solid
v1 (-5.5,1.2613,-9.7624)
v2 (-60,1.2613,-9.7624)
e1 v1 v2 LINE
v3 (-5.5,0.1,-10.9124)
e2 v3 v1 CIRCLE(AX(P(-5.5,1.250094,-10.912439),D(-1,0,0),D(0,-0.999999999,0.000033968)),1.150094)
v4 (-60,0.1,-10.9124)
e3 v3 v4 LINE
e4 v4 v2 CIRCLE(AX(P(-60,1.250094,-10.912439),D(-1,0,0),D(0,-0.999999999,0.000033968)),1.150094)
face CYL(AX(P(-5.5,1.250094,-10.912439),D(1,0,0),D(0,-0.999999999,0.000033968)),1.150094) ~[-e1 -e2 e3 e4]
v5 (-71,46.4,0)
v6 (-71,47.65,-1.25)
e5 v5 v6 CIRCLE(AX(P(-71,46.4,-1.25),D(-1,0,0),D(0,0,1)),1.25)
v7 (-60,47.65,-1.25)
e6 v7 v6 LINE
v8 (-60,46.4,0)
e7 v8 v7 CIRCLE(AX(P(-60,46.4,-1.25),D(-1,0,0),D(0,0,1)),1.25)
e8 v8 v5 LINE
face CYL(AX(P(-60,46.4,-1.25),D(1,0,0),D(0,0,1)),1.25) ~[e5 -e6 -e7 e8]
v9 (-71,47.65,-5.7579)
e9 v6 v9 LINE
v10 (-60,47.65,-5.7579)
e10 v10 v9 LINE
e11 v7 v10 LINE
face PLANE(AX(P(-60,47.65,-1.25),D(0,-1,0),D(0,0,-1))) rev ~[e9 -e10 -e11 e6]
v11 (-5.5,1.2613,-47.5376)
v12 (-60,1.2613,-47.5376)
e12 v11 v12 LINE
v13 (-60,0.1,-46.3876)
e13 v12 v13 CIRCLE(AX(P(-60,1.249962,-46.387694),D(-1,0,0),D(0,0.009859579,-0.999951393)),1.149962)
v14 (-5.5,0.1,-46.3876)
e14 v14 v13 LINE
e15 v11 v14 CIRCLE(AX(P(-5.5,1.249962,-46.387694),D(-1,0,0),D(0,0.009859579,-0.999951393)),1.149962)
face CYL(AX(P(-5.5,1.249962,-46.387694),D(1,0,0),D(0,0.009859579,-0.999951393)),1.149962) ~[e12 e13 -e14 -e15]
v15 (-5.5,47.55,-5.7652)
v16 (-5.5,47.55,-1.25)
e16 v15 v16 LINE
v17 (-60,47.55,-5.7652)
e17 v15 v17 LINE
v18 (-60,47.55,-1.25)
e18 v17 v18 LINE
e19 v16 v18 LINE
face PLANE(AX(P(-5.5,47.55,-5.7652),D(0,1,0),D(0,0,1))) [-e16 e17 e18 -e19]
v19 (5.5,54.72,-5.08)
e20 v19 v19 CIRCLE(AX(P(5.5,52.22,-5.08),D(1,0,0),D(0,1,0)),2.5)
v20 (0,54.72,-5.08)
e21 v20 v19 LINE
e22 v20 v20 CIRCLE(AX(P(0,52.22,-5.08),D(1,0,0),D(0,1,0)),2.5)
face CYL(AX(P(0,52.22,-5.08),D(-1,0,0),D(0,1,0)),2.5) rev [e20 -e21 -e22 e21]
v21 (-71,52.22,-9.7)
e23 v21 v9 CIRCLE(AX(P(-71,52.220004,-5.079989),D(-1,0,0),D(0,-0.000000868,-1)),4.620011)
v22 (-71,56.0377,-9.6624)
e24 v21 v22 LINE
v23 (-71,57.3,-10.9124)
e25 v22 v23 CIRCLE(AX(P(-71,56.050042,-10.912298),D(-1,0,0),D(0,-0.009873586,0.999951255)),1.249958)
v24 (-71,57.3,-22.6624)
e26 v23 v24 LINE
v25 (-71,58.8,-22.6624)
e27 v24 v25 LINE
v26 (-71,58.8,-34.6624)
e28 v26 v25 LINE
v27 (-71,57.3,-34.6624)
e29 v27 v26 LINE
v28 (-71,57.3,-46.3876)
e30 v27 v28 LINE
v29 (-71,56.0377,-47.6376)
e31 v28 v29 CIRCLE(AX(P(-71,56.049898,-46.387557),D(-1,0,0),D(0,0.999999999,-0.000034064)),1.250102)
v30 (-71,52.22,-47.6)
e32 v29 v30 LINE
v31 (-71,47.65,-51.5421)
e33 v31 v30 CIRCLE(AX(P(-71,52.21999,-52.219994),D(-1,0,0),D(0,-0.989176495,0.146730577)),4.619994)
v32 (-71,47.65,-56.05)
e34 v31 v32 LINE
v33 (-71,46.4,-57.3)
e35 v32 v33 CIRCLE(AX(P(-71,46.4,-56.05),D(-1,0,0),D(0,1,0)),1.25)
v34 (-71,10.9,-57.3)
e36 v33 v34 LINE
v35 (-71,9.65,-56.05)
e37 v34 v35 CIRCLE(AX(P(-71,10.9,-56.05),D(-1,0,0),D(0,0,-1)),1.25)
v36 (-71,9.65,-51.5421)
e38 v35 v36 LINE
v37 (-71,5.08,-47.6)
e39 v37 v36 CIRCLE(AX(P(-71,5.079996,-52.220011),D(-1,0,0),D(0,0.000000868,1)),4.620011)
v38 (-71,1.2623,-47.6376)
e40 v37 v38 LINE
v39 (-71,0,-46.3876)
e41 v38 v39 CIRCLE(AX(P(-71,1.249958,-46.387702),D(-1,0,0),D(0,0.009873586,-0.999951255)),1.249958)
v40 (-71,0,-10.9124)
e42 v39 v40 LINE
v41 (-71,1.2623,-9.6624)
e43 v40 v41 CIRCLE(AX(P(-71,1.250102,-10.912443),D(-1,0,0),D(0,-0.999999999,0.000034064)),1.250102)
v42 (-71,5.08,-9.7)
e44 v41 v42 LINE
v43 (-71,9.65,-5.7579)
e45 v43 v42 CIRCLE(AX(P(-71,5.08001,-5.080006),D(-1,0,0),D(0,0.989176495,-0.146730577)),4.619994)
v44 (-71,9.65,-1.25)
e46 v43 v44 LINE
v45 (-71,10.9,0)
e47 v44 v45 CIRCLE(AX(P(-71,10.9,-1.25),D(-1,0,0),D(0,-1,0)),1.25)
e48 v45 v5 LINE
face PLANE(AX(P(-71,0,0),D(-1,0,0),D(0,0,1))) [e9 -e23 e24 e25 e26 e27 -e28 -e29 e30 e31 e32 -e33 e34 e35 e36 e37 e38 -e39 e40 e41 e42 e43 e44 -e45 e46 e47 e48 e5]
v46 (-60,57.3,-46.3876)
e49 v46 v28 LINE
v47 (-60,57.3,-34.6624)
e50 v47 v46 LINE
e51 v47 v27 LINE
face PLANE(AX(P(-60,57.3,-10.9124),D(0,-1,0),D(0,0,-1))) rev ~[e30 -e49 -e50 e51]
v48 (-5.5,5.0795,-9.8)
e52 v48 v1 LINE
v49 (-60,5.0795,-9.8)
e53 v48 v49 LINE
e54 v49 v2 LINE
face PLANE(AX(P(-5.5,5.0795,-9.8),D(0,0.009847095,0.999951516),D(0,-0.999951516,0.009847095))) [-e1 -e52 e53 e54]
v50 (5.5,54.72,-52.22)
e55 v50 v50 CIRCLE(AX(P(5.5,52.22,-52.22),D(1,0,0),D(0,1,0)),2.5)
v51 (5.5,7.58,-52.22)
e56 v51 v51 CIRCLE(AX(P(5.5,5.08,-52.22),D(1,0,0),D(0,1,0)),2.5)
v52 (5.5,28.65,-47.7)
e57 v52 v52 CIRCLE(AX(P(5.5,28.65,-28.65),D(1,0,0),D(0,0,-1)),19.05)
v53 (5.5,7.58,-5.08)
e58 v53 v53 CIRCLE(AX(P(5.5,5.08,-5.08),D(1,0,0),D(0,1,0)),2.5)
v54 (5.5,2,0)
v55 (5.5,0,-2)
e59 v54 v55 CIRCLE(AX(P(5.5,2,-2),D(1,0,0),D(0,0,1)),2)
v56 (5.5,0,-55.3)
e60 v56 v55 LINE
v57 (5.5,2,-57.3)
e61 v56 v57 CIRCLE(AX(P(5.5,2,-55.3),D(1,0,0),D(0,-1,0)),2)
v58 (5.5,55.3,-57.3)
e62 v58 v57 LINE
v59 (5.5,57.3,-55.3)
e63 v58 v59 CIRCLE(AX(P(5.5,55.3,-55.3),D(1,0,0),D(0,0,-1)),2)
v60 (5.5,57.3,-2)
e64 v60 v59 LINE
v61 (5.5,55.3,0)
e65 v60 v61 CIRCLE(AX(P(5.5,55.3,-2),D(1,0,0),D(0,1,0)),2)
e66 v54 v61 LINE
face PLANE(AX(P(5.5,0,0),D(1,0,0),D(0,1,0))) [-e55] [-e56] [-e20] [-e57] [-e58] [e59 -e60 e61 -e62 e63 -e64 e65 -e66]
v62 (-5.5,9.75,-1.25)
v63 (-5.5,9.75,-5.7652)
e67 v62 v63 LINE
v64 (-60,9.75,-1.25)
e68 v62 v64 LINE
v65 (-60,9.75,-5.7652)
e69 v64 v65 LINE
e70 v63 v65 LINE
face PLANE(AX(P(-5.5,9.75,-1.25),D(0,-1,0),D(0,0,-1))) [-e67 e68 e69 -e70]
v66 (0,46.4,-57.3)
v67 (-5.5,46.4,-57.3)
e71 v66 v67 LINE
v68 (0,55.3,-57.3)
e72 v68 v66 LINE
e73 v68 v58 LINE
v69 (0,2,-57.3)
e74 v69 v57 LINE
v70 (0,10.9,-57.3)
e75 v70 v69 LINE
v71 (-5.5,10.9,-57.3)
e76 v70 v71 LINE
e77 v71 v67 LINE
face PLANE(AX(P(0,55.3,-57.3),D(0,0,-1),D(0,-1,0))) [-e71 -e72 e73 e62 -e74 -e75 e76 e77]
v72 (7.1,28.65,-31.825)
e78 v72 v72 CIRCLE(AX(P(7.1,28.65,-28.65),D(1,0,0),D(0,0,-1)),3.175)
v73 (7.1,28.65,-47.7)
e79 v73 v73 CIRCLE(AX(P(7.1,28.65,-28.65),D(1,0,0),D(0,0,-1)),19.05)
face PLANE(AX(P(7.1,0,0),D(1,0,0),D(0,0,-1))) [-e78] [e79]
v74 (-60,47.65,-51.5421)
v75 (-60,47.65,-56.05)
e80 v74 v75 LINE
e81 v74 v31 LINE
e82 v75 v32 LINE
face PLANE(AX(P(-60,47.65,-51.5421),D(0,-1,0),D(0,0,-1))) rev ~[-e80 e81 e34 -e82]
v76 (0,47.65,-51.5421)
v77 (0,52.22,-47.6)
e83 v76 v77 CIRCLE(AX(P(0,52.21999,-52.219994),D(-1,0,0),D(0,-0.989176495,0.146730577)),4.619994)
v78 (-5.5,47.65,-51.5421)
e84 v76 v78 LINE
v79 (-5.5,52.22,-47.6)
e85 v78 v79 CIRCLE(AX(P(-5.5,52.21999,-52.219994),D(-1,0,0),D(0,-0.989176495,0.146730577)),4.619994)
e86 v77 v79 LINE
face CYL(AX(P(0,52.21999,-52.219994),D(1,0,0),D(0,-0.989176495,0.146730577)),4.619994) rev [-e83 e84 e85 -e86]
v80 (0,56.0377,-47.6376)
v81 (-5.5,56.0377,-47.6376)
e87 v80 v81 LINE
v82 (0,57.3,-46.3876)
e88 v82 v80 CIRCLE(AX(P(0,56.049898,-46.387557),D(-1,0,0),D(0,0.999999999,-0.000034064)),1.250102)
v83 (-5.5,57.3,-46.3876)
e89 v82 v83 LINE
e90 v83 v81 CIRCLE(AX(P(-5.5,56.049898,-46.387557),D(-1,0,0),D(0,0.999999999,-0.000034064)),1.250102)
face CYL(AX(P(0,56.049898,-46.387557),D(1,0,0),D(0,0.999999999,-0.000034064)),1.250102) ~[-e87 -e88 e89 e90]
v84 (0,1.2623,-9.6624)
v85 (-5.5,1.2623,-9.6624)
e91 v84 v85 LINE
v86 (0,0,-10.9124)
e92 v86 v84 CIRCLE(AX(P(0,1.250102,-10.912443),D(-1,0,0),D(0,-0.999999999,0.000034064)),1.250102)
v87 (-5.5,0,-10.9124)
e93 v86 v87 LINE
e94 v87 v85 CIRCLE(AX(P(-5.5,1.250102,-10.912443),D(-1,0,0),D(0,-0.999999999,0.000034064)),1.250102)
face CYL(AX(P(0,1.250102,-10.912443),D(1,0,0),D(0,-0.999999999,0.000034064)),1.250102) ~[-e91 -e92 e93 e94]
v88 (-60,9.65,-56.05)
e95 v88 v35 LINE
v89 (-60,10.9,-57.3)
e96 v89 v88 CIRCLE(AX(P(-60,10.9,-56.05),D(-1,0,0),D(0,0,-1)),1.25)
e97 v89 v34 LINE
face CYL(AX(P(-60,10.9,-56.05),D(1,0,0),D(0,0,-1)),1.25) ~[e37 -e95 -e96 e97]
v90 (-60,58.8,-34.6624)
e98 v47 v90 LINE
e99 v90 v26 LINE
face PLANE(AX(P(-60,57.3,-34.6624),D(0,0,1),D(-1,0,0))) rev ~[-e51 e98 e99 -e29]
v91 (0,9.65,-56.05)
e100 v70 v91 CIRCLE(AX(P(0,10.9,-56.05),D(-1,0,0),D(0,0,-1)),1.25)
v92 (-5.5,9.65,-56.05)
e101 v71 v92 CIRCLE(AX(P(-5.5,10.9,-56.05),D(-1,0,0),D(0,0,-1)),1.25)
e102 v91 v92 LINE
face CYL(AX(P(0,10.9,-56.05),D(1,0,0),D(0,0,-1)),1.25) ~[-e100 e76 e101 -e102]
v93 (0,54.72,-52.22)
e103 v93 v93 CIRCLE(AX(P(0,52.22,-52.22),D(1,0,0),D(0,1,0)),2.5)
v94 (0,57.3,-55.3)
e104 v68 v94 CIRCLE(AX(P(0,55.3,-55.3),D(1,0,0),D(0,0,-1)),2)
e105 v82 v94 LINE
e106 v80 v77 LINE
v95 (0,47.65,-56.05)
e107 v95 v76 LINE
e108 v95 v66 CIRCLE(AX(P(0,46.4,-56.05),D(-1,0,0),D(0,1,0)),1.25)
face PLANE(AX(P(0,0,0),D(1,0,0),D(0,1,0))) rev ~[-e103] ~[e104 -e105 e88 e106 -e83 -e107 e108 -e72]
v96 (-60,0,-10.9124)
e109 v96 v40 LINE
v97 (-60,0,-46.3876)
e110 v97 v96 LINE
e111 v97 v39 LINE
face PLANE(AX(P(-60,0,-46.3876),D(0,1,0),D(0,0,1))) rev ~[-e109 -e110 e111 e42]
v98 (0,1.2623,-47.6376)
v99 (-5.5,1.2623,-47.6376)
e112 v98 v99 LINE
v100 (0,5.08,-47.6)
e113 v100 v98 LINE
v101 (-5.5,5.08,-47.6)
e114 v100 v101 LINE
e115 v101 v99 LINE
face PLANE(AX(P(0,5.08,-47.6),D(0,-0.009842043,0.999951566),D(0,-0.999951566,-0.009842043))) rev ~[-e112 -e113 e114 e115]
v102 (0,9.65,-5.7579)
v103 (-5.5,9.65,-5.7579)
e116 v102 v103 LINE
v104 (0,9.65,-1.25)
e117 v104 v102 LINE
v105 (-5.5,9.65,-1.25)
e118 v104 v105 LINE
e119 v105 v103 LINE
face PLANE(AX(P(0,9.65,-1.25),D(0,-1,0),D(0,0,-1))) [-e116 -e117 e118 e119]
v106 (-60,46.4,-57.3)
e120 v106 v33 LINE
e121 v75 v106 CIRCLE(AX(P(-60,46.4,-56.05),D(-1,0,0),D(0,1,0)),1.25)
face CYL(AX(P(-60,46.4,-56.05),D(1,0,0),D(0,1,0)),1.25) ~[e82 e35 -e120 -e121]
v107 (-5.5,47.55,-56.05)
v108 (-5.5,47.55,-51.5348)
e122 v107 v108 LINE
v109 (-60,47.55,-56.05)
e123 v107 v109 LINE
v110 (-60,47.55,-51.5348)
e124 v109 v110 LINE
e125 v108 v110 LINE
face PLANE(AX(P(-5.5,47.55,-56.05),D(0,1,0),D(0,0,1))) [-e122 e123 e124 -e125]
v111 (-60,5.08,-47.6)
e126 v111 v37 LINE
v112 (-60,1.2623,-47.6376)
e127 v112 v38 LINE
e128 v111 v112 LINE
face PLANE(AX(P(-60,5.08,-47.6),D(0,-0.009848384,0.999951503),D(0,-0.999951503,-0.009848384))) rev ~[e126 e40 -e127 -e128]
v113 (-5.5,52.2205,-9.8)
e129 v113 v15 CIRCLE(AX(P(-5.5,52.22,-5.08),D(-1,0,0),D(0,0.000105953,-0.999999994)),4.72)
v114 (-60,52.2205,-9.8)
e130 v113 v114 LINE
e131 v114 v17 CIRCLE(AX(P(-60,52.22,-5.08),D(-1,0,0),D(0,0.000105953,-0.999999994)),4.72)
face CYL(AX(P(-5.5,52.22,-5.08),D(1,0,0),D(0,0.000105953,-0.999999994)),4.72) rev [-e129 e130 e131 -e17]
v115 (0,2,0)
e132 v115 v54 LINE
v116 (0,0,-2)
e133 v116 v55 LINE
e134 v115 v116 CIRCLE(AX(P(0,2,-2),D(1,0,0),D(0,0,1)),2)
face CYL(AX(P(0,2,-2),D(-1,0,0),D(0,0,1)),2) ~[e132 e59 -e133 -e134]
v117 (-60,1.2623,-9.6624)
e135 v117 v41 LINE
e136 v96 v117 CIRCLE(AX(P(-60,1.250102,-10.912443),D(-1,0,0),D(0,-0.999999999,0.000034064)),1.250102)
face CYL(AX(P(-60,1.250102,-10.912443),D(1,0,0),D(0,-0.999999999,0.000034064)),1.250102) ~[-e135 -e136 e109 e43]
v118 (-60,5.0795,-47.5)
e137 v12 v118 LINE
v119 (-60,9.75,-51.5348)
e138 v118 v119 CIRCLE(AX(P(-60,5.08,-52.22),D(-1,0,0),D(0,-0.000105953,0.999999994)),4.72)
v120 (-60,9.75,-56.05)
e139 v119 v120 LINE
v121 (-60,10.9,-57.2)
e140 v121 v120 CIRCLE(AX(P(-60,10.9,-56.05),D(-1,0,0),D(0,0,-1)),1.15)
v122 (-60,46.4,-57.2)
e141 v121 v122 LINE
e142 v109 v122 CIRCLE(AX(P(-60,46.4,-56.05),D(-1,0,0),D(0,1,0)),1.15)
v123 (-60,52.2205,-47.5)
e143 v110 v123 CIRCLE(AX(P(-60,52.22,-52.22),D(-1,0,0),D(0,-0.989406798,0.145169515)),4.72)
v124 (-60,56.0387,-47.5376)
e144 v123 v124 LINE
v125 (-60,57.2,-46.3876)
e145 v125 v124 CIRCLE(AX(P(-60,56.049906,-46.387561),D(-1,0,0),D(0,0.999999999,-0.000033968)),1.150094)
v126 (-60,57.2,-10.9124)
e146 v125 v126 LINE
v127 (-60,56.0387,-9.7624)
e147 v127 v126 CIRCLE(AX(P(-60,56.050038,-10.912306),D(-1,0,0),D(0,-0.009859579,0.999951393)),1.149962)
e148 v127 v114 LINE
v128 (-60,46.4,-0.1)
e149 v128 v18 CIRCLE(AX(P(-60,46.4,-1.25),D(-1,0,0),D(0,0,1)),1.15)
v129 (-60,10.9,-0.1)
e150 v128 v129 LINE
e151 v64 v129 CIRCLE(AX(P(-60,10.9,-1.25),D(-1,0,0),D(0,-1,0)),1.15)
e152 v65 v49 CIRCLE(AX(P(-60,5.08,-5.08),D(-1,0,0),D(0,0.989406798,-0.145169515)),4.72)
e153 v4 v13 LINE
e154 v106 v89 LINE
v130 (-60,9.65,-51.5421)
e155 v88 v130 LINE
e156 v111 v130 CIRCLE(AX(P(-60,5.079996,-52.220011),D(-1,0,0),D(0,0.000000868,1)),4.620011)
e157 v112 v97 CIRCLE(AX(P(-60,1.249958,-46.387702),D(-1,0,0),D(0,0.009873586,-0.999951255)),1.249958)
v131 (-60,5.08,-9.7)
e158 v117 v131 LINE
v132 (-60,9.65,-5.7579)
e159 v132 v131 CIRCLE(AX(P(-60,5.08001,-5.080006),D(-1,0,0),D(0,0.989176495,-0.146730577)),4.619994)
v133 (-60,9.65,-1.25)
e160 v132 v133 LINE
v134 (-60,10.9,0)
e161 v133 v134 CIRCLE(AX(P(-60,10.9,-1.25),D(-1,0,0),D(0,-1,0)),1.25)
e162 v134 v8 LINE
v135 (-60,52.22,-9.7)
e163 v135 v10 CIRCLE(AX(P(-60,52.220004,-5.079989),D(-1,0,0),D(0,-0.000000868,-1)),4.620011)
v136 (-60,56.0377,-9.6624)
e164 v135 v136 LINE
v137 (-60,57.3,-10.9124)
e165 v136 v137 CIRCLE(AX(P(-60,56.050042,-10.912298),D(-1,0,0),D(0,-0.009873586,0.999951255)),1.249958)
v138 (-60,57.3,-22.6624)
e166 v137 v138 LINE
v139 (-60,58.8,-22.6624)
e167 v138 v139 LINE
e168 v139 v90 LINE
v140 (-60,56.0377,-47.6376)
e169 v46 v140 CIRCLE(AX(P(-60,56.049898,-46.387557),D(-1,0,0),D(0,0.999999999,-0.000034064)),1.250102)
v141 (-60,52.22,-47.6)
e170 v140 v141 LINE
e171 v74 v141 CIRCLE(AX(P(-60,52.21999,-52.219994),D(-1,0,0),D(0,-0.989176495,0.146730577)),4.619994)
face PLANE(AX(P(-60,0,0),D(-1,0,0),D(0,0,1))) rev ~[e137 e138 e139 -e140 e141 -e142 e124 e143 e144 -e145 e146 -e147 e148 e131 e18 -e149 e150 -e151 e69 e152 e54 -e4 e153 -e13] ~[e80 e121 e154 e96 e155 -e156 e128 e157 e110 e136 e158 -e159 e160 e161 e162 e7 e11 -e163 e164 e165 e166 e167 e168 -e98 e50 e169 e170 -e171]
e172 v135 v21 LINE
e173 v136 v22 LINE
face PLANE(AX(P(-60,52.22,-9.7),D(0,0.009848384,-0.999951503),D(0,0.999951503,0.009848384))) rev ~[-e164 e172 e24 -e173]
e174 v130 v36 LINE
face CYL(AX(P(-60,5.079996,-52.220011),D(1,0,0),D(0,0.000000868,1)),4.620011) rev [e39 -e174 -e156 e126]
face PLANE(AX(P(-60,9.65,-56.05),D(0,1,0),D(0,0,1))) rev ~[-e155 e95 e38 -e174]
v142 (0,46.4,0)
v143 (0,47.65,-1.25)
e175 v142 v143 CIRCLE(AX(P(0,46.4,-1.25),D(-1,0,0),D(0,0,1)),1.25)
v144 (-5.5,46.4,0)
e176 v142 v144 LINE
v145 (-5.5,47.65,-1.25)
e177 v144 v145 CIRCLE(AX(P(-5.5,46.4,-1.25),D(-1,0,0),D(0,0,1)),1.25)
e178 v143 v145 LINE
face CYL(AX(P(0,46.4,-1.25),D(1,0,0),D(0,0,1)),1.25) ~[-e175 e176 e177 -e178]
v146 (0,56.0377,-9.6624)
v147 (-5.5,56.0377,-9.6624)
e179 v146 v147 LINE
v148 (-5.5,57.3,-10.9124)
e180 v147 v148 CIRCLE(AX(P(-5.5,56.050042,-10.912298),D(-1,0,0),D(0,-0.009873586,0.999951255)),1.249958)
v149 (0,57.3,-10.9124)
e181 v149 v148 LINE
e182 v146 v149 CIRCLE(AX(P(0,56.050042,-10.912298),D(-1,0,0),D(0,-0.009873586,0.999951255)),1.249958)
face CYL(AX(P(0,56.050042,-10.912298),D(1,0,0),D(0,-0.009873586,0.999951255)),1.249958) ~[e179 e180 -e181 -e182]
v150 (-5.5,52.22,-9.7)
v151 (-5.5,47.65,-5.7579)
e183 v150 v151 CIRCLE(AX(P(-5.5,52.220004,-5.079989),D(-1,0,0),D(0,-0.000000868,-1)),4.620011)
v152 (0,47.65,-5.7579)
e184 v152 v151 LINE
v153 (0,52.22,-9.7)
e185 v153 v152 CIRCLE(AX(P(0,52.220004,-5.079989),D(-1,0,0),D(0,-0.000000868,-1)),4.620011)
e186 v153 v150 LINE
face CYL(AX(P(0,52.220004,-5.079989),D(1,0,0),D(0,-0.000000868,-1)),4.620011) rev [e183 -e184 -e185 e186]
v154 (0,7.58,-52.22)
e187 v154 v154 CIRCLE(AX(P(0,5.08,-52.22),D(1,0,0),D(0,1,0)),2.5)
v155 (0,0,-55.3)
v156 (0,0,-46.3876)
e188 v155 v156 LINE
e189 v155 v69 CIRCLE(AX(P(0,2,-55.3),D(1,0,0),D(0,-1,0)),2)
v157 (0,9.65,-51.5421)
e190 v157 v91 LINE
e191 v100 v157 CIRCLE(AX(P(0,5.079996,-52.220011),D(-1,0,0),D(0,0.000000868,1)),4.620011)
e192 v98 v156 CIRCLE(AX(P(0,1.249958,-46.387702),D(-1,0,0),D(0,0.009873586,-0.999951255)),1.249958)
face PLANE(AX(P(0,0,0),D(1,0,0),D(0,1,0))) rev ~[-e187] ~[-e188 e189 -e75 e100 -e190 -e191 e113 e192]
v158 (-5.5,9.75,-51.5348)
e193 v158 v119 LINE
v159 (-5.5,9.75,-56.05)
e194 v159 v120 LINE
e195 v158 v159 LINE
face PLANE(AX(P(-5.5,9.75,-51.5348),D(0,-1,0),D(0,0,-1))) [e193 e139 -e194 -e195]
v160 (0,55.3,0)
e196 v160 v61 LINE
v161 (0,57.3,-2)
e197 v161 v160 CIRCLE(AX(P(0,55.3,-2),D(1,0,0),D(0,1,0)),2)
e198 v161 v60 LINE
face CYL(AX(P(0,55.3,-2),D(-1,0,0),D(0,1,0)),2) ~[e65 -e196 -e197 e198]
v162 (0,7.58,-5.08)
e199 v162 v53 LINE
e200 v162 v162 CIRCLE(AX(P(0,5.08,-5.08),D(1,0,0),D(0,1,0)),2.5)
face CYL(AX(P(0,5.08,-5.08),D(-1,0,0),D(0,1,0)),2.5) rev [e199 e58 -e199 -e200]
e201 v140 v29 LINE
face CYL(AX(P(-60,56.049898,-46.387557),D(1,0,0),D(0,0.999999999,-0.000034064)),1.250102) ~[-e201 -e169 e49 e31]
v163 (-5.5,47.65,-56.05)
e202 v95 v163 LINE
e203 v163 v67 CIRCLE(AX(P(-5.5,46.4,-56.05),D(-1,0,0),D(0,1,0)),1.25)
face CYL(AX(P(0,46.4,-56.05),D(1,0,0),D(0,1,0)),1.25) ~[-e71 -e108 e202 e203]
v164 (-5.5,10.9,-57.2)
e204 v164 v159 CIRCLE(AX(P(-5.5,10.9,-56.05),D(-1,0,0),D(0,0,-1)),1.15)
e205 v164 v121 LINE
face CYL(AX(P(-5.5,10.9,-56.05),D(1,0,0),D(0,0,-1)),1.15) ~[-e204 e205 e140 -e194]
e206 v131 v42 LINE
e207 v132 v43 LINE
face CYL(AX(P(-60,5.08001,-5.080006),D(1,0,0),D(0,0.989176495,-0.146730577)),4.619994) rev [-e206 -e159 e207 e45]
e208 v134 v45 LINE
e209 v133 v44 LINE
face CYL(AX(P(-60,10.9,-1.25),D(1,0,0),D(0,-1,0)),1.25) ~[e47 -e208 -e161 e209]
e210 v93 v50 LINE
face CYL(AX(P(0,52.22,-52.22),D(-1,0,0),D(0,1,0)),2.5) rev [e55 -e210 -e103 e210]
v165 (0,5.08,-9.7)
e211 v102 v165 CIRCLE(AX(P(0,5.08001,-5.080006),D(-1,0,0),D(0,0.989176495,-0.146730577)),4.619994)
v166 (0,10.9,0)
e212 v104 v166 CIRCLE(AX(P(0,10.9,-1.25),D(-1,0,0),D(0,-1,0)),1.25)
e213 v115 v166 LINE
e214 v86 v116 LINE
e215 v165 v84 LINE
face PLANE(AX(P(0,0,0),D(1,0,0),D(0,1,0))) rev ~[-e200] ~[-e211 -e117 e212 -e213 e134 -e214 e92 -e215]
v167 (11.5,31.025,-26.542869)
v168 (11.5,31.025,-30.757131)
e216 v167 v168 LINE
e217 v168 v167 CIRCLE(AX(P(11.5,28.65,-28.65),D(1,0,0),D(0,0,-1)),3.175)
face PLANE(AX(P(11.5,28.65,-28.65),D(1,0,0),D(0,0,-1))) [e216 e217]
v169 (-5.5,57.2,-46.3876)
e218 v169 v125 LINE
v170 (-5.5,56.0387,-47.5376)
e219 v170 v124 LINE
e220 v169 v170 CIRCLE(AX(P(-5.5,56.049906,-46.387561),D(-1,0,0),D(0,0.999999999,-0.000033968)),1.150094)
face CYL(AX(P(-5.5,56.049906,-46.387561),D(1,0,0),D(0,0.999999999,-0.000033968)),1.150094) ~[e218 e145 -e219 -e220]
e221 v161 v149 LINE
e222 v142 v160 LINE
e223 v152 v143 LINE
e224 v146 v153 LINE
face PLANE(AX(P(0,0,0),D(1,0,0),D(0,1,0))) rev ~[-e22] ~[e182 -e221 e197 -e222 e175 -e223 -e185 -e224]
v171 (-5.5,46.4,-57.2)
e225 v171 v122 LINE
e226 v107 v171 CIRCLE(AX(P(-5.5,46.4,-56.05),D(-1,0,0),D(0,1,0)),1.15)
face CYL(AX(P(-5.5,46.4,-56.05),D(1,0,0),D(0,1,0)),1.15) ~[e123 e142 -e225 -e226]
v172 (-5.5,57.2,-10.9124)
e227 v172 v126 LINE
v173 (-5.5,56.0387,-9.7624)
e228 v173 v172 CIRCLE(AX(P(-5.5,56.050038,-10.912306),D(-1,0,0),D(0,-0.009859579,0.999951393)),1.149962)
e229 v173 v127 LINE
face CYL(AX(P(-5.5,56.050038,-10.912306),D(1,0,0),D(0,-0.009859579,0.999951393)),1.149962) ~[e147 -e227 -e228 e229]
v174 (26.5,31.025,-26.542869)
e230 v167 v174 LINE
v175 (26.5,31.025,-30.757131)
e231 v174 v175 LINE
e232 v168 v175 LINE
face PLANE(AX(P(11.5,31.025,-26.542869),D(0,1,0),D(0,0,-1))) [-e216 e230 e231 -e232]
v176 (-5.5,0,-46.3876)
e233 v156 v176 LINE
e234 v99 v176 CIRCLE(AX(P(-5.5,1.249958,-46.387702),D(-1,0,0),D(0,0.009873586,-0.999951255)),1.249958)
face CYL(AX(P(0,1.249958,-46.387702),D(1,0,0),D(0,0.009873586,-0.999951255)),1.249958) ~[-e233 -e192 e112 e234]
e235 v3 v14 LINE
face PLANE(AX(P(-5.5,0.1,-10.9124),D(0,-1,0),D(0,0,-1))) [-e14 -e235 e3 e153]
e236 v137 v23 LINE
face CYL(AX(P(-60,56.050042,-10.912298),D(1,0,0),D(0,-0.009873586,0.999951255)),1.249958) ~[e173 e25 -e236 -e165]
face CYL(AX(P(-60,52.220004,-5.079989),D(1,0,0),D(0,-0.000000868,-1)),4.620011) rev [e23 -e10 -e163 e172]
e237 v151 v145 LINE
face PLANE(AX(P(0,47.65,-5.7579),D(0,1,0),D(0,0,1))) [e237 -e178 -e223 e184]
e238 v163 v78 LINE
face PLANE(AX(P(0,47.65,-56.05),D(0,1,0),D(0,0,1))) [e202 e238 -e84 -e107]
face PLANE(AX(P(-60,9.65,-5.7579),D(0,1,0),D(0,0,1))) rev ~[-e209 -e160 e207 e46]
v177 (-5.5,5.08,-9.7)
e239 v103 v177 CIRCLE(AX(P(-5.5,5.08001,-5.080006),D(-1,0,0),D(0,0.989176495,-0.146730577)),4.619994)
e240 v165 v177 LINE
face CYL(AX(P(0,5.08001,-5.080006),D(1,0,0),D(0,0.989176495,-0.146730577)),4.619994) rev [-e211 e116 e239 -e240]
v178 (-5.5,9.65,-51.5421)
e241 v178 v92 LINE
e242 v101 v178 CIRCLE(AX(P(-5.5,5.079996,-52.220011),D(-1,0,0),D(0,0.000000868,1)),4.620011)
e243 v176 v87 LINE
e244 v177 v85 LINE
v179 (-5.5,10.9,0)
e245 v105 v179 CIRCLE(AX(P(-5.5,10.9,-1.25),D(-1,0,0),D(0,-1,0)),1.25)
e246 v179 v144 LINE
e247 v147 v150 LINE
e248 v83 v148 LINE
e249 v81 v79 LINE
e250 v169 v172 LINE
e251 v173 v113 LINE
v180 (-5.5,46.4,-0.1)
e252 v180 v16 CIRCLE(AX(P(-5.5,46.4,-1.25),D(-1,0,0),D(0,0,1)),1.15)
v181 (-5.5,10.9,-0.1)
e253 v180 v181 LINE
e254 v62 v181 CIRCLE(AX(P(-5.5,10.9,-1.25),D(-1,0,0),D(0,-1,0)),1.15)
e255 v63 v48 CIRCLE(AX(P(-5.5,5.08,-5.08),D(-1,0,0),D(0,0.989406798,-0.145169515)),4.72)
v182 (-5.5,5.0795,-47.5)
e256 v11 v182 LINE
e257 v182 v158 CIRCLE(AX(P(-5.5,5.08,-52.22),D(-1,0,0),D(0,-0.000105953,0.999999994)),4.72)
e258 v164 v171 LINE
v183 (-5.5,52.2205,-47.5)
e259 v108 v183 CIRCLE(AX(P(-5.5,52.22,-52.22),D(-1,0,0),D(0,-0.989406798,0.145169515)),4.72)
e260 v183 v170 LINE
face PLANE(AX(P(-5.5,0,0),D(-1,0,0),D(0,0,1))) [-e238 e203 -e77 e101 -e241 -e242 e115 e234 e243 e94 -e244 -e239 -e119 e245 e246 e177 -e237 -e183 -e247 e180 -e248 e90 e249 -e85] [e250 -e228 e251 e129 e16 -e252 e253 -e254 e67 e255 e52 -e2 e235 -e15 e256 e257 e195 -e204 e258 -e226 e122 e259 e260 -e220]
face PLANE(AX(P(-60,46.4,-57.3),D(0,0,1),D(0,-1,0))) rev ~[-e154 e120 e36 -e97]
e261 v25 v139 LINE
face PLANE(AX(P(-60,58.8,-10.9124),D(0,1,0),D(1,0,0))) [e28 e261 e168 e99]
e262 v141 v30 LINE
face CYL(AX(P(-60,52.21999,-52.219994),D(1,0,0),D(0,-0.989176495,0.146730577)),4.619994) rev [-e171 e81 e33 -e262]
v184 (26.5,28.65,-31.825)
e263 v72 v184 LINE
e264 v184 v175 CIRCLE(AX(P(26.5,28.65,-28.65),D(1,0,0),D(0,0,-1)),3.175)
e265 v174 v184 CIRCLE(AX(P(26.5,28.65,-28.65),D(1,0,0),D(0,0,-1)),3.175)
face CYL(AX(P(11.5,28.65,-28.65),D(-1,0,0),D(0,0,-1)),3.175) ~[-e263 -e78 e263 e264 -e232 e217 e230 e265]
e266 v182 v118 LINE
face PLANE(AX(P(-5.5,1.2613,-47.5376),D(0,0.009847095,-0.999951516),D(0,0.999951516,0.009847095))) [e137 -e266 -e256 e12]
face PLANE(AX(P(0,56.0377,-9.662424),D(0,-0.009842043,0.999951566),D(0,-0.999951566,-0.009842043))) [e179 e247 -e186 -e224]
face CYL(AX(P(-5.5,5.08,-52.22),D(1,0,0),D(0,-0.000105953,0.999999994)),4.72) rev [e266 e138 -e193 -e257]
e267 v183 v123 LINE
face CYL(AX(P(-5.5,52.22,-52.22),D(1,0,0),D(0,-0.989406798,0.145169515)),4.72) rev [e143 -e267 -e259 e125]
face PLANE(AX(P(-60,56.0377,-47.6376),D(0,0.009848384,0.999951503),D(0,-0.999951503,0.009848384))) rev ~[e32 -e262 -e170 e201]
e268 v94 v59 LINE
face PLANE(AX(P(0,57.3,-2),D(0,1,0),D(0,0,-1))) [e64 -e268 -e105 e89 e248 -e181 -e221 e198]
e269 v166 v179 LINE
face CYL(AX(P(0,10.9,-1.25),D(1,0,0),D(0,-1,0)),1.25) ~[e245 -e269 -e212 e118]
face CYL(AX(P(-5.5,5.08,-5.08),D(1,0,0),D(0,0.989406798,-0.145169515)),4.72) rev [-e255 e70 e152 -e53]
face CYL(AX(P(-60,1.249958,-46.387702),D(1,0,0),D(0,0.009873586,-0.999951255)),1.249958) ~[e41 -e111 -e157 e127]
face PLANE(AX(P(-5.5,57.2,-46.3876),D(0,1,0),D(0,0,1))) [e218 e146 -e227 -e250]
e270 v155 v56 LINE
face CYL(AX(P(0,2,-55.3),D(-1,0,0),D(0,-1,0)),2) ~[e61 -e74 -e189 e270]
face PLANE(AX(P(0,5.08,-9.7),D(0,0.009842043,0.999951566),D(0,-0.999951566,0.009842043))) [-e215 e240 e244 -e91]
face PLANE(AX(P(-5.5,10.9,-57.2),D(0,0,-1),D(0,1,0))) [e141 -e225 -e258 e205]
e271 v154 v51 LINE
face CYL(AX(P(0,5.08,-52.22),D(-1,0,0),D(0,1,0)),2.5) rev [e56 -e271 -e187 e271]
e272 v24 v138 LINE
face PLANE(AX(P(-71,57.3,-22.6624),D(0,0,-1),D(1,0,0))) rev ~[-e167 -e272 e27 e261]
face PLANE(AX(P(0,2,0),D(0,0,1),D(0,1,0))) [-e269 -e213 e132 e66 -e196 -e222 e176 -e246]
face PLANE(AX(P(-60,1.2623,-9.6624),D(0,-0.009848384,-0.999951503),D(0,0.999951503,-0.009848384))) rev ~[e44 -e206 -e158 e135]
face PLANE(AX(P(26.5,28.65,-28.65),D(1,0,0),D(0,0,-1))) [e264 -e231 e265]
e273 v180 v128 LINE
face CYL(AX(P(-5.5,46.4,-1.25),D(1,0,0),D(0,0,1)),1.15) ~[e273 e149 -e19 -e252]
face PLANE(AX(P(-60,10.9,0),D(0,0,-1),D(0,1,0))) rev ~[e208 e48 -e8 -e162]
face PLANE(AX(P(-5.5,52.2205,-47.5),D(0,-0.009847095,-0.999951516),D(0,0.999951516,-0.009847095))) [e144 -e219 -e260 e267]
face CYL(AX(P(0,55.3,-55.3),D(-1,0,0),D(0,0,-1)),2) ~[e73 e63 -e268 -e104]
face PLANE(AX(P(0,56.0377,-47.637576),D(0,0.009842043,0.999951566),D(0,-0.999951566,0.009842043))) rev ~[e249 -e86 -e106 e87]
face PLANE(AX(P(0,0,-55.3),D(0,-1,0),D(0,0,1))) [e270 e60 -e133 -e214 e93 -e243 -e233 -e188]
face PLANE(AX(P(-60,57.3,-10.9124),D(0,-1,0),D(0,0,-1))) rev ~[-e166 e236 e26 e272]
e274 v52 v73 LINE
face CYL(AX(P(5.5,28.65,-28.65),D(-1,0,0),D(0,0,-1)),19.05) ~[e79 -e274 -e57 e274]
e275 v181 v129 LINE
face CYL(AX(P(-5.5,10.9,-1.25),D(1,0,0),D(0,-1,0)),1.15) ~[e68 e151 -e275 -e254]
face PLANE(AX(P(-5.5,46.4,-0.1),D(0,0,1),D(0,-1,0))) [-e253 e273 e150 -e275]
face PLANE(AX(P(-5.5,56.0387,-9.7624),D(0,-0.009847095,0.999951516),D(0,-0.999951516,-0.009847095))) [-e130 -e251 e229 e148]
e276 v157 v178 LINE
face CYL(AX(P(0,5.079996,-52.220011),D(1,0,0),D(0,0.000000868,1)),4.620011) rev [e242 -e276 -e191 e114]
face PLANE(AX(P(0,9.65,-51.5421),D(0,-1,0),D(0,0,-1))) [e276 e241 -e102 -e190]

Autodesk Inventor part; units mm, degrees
ref_plane "YZ Plane" through (0, 0, 0) normal (1, 0, 0) x (0, 1, 0)
ref_plane "XZ Plane" through (0, 0, 0) normal (0, 1, 0) x (-1, 0, 0)
ref_plane "XY Plane" through (0, 0, 0) normal (0, 0, 1) x (1, 0, 0)
sketch "Sketch1" plane through (0, 0, 0) normal (1, 0, 0) x (0, 1, 0)
  line L0 (2, 0) -> (55.3, 0)
  line L1 (57.3, -2) -> (57.3, -55.3)
  line L2 (55.3, -57.3) -> (2, -57.3)
  line L3 (0, -55.3) -> (0, -2)
  arc A0 (57.3, -2) -> (55.3, 0) centre (55.3, -2) ccw
  arc A1 (55.3, -57.3) -> (57.3, -55.3) centre (55.3, -55.3) ccw
  arc A2 (0, -55.3) -> (2, -57.3) centre (2, -55.3) ccw
  arc A3 (2, 0) -> (0, -2) centre (2, -2) ccw
  line L4 (52.22, -5.08) -> (5.08, -5.08) construction
  line L5 (5.08, -5.08) -> (5.08, -52.22) construction
  line L6 (5.08, -52.22) -> (52.22, -52.22) construction
  line L7 (52.22, -52.22) -> (52.22, -5.08) construction
  line L8 (52.22, -5.08) -> (57.3, -5.08) construction
  line L9 (52.22, -5.08) -> (52.22, 0) construction
  line L10 (5.08, -52.22) -> (0, -52.22) construction
  line L11 (5.08, -52.22) -> (5.08, -57.3) construction
  circle A4 centre (52.22, -5.08) radius 2.5
  circle A5 centre (52.22, -52.22) radius 2.5
  circle A6 centre (5.08, -52.22) radius 2.5
  circle A7 centre (5.08, -5.08) radius 2.5
  point P0 (0, 0)
  point P1 (57.3, -57.3)
  point P2 (57.3, 0)
  point P3 (0, -57.3)
  dimension "d0" = 57.3
  dimension "d1" = 57.3
  dimension "d2" = 2
  dimension "d3" = 2
  dimension "d4" = 5
  dimension "d5" = 5
  dimension "d6" = 5
  dimension "d7" = 5
  dimension "d8" = 47.14
  dimension "d9" = 47.14
extrude "Extrusion1" add sketch "Sketch1" along normal blind 5.5
sketch "Sketch2" plane through (0, 0, 0) normal (-1, 0, 0) x (0, 0, 1)
  line L0 (-57.3, 2) -> (-57.3, 55.3) construction
  arc A0 (-57.3, 2) -> (-55.3, 0) centre (-55.3, 2) ccw projected
  line L1 (-2, 0) -> (-55.3, 0) construction
  arc A1 (-2, 0) -> (0, 2) centre (-2, 2) ccw projected
  line L2 (0, 55.3) -> (0, 2) construction
  arc A2 (0, 55.3) -> (-2, 57.3) centre (-2, 55.3) ccw projected
  line L3 (-55.3, 57.3) -> (-2, 57.3) construction
  arc A3 (-55.3, 57.3) -> (-57.3, 55.3) centre (-55.3, 55.3) ccw projected
  circle A4 centre (-5.08, 52.22) radius 2.5 projected
  circle A5 centre (-52.22, 52.22) radius 2.5 projected
  circle A6 centre (-52.22, 5.08) radius 2.5 projected
  circle A7 centre (-5.08, 5.08) radius 2.5 projected
  line L4 (-55.3, 57.3) -> (-2, 57.3) construction
  line L5 (-47.65, 57.3) -> (-9.65, 57.3)
  line L6 (-57.3, 2) -> (-57.3, 55.3) construction
  line L7 (-57.3, 9.65) -> (-57.3, 47.65)
  line L8 (-2, 0) -> (-55.3, 0) construction
  line L9 (-47.65, 0) -> (-9.65, 0)
  line L10 (0, 9.65) -> (0, 47.65)
  line L11 (0, 55.3) -> (0, 2) construction
  circle A8 centre (-52.22, 5.08) radius 2.5 construction
  line L12 (-52.22, 5.08) -> (-5.08, 52.22) construction
  line L13 (-28.65, 28.65) -> (-28.65, 57.3) construction
  line L14 (-28.65, 28.65) -> (-28.65, 0) construction
  line L15 (-28.65, 28.65) -> (0, 28.65) construction
  line L16 (-28.65, 28.65) -> (-57.3, 28.65) construction
  arc A9 (-51.5421, 47.65) -> (-47.6, 52.22) centre (-52.22, 52.22) ccw
  arc A10 (-9.7, 52.22) -> (-5.7579, 47.65) centre (-5.08, 52.22) ccw
  arc A11 (-5.7579, 9.65) -> (-9.7, 5.08) centre (-5.08, 5.08) ccw
  arc A12 (-47.6, 5.08) -> (-51.5421, 9.65) centre (-52.22, 5.08) ccw
  line L17 (-47.65, 57.3) -> (-47.6, 52.22)
  line L18 (-57.3, 47.65) -> (-51.5421, 47.65)
  line L19 (-9.7, 5.08) -> (-9.65, 0)
  line L20 (0, 9.65) -> (-5.7579, 9.65)
  line L21 (-9.6451, 47.6951) -> (-9.6048, 47.6952)
  line L22 (-5.7579, 47.65) -> (0, 47.65)
  line L23 (-9.65, 57.3) -> (-9.7, 52.22)
  line L24 (-9.6451, 47.6951) -> (-9.6451, 47.6549)
  line L25 (-47.6048, 9.6549) -> (-47.6452, 9.6548)
  line L26 (-51.5421, 9.65) -> (-57.3, 9.65)
  line L27 (-47.6049, 9.6951) -> (-47.6048, 9.6549)
  line L28 (-47.6, 5.08) -> (-47.65, 0)
  arc A13 (-56.05, 47.65) -> (-57.3, 46.4) centre (-56.05, 46.4) ccw
  arc A14 (-46.3876, 57.3) -> (-47.6376, 56.0377) centre (-46.3876, 56.05) ccw
  arc A15 (-9.6624, 56.0377) -> (-10.9124, 57.3) centre (-10.9124, 56.05) ccw
  arc A16 (0, 46.4) -> (-1.25, 47.65) centre (-1.25, 46.4) ccw
  arc A17 (-1.25, 9.65) -> (0, 10.9) centre (-1.25, 10.9) ccw
  arc A18 (-10.9124, 0) -> (-9.6624, 1.2623) centre (-10.9124, 1.25) ccw
  arc A19 (-47.6376, 1.2623) -> (-46.3876, 0) centre (-46.3876, 1.25) ccw
  arc A20 (-57.3, 10.9) -> (-56.05, 9.65) centre (-56.05, 10.9) ccw
  line L29 (-55.3, 57.3) -> (-2, 57.3) projected
  line L30 (-57.3, 2) -> (-57.3, 55.3) projected
  line L31 (0, 55.3) -> (0, 2) projected
  point P0 (0, 0)
  point P1 (-10.9124, 57.3)
  dimension "d12" = 38
  dimension "d13" = 38
  dimension "d14" = 38
  dimension "d15" = 38
  dimension "d16" = 2.12
  dimension "d17" = 2.12
  dimension "d18" = 2.12
  dimension "d19" = 2.12
  dimension "d20" = 2.5
  dimension "d21" = 2.5
  dimension "d22" = 2.5
  dimension "d23" = 2.5
  dimension "d24" = 2.5
  dimension "d25" = 2.5
  dimension "d26" = 2.5
  dimension "d27" = 2.5
extrude "Extrusion2" add sketch "Sketch2" along normal blind 5.5 contours L10 A17 L20 A11 L19 A18 L9 A19 L28 A12 L26 A20 L7 A13 L18 A9 L17 A14 L5 A15 L23 A10 L22 A16
sketch "Sketch3" plane through (-5.5, 0, 0) normal (-1, 0, 0) x (0, 0, 1)
  line L0 (-51.5421, 47.65) -> (-56.05, 47.65) projected
  arc A0 (-56.05, 47.65) -> (-57.3, 46.4) centre (-56.05, 46.4) ccw projected
  line L1 (-57.3, 46.4) -> (-57.3, 10.9) projected
  arc A1 (-57.3, 10.9) -> (-56.05, 9.65) centre (-56.05, 10.9) ccw projected
  line L2 (-56.05, 9.65) -> (-51.5421, 9.65) projected
  arc A2 (-47.6, 5.08) -> (-51.5421, 9.65) centre (-52.22, 5.08) ccw projected
  line L3 (-47.6, 5.08) -> (-47.6376, 1.2623) projected
  arc A3 (-47.6376, 1.2623) -> (-46.3876, 0) centre (-46.3876, 1.25) ccw projected
  line L4 (-46.3876, 0) -> (-10.9124, 0) projected
  arc A4 (-10.9124, 0) -> (-9.6624, 1.2623) centre (-10.9124, 1.25) ccw projected
  line L5 (-9.6624, 1.2623) -> (-9.7, 5.08) projected
  arc A5 (-5.7579, 9.65) -> (-9.7, 5.08) centre (-5.08, 5.08) ccw projected
  line L6 (-5.7579, 9.65) -> (-1.25, 9.65) projected
  arc A6 (-1.25, 9.65) -> (0, 10.9) centre (-1.25, 10.9) ccw projected
  line L7 (0, 10.9) -> (0, 46.4) projected
  arc A7 (0, 46.4) -> (-1.25, 47.65) centre (-1.25, 46.4) ccw projected
  line L8 (-1.25, 47.65) -> (-5.7579, 47.65) projected
  arc A8 (-9.7, 52.22) -> (-5.7579, 47.65) centre (-5.08, 52.22) ccw projected
  line L9 (-9.7, 52.22) -> (-9.6624, 56.0377) projected
  arc A9 (-9.6624, 56.0377) -> (-10.9124, 57.3) centre (-10.9124, 56.05) ccw projected
  line L10 (-10.9124, 57.3) -> (-46.3876, 57.3) projected
  arc A10 (-46.3876, 57.3) -> (-47.6376, 56.0377) centre (-46.3876, 56.05) ccw projected
  line L11 (-47.6376, 56.0377) -> (-47.6, 52.22) projected
  arc A11 (-51.5421, 47.65) -> (-47.6, 52.22) centre (-52.22, 52.22) ccw projected
  line L12 (-46.3876, 57.2) -> (-10.9124, 57.2)
  arc A12 (-9.7624, 56.0387) -> (-10.9124, 57.2) centre (-10.9124, 56.05) ccw
  line L13 (-9.7624, 56.0387) -> (-9.8, 52.2205)
  arc A13 (-9.8, 52.2205) -> (-5.7652, 47.55) centre (-5.08, 52.22) ccw
  line L14 (-5.7652, 47.55) -> (-1.25, 47.55)
  arc A14 (-0.1, 46.4) -> (-1.25, 47.55) centre (-1.25, 46.4) ccw
  line L15 (-0.1, 46.4) -> (-0.1, 10.9)
  arc A15 (-1.25, 9.75) -> (-0.1, 10.9) centre (-1.25, 10.9) ccw
  line L16 (-1.25, 9.75) -> (-5.7652, 9.75)
  arc A16 (-5.7652, 9.75) -> (-9.8, 5.0795) centre (-5.08, 5.08) ccw
  line L17 (-9.8, 5.0795) -> (-9.7624, 1.2613)
  arc A17 (-10.9124, 0.1) -> (-9.7624, 1.2613) centre (-10.9124, 1.25) ccw
  line L18 (-10.9124, 0.1) -> (-46.3876, 0.1)
  arc A18 (-47.5376, 1.2613) -> (-46.3876, 0.1) centre (-46.3876, 1.25) ccw
  line L19 (-47.5376, 1.2613) -> (-47.5, 5.0795)
  arc A19 (-47.5, 5.0795) -> (-51.5348, 9.75) centre (-52.22, 5.08) ccw
  line L20 (-51.5348, 9.75) -> (-56.05, 9.75)
  arc A20 (-57.2, 10.9) -> (-56.05, 9.75) centre (-56.05, 10.9) ccw
  line L21 (-57.2, 10.9) -> (-57.2, 46.4)
  arc A21 (-56.05, 47.55) -> (-57.2, 46.4) centre (-56.05, 46.4) ccw
  line L22 (-56.05, 47.55) -> (-51.5348, 47.55)
  arc A22 (-51.5348, 47.55) -> (-47.5, 52.2205) centre (-52.22, 52.22) ccw
  line L23 (-47.5, 52.2205) -> (-47.5376, 56.0387)
  arc A23 (-46.3876, 57.2) -> (-47.5376, 56.0387) centre (-46.3876, 56.05) ccw
  point P0 (0, 0)
  dimension "d30" = 0.1
extrude "Extrusion3" add sketch "Sketch3" along normal blind 54.5 contours L12 A12 L13 A13 L14 A14 L15 A15 L16 A16 L17 A17 L18 A18 L19 A19 L20 A20 L21 A21 L22 A22 L23 A23
sketch "Sketch4" plane through (-60, 0, 0) normal (-1, 0, 0) x (0, 0, 1)
  arc A0 (-56.05, 47.55) -> (-57.2, 46.4) centre (-56.05, 46.4) ccw projected
  line L0 (-56.05, 47.55) -> (-51.5348, 47.55) projected
  arc A1 (-51.5348, 47.55) -> (-47.5, 52.2205) centre (-52.22, 52.22) ccw projected
  line L1 (-47.5, 52.2205) -> (-47.5376, 56.0387) projected
  arc A2 (-46.3876, 57.2) -> (-47.5376, 56.0387) centre (-46.3876, 56.05) ccw projected
  line L2 (-46.3876, 57.2) -> (-10.9124, 57.2) projected
  arc A3 (-9.7624, 56.0387) -> (-10.9124, 57.2) centre (-10.9124, 56.05) ccw projected
  line L3 (-9.7624, 56.0387) -> (-9.8, 52.2205) projected
  arc A4 (-9.8, 52.2205) -> (-5.7652, 47.55) centre (-5.08, 52.22) ccw projected
  line L4 (-5.7652, 47.55) -> (-1.25, 47.55) projected
  arc A5 (-0.1, 46.4) -> (-1.25, 47.55) centre (-1.25, 46.4) ccw projected
  line L5 (-0.1, 46.4) -> (-0.1, 10.9) projected
  arc A6 (-1.25, 9.75) -> (-0.1, 10.9) centre (-1.25, 10.9) ccw projected
  line L6 (-1.25, 9.75) -> (-5.7652, 9.75) projected
  arc A7 (-5.7652, 9.75) -> (-9.8, 5.0795) centre (-5.08, 5.08) ccw projected
  line L7 (-9.8, 5.0795) -> (-9.7624, 1.2613) projected
  arc A8 (-10.9124, 0.1) -> (-9.7624, 1.2613) centre (-10.9124, 1.25) ccw projected
  line L8 (-10.9124, 0.1) -> (-46.3876, 0.1) projected
  arc A9 (-47.5376, 1.2613) -> (-46.3876, 0.1) centre (-46.3876, 1.25) ccw projected
  line L9 (-47.5376, 1.2613) -> (-47.5, 5.0795) projected
  arc A10 (-47.5, 5.0795) -> (-51.5348, 9.75) centre (-52.22, 5.08) ccw projected
  line L10 (-51.5348, 9.75) -> (-56.05, 9.75) projected
  arc A11 (-57.2, 10.9) -> (-56.05, 9.75) centre (-56.05, 10.9) ccw projected
  line L11 (-57.2, 10.9) -> (-57.2, 46.4) projected
  line L12 (-51.5421, 47.65) -> (-56.05, 47.65) projected
  arc A12 (-56.05, 47.65) -> (-57.3, 46.4) centre (-56.05, 46.4) ccw projected
  line L13 (-57.3, 46.4) -> (-57.3, 10.9) projected
  arc A13 (-57.3, 10.9) -> (-56.05, 9.65) centre (-56.05, 10.9) ccw projected
  line L14 (-56.05, 9.65) -> (-51.5421, 9.65) projected
  arc A14 (-47.6, 5.08) -> (-51.5421, 9.65) centre (-52.22, 5.08) ccw projected
  line L15 (-47.6, 5.08) -> (-47.6376, 1.2623) projected
  arc A15 (-47.6376, 1.2623) -> (-46.3876, 0) centre (-46.3876, 1.25) ccw projected
  line L16 (-46.3876, 0) -> (-10.9124, 0) projected
  arc A16 (-10.9124, 0) -> (-9.6624, 1.2623) centre (-10.9124, 1.25) ccw projected
  line L17 (-9.6624, 1.2623) -> (-9.7, 5.08) projected
  arc A17 (-5.7579, 9.65) -> (-9.7, 5.08) centre (-5.08, 5.08) ccw projected
  line L18 (-5.7579, 9.65) -> (-1.25, 9.65) projected
  arc A18 (-1.25, 9.65) -> (0, 10.9) centre (-1.25, 10.9) ccw projected
  line L19 (0, 10.9) -> (0, 46.4) projected
  arc A19 (0, 46.4) -> (-1.25, 47.65) centre (-1.25, 46.4) ccw projected
  line L20 (-1.25, 47.65) -> (-5.7579, 47.65) projected
  arc A20 (-9.7, 52.22) -> (-5.7579, 47.65) centre (-5.08, 52.22) ccw projected
  line L21 (-9.7, 52.22) -> (-9.6624, 56.0377) projected
  arc A21 (-9.6624, 56.0377) -> (-10.9124, 57.3) centre (-10.9124, 56.05) ccw projected
  line L22 (-10.9124, 57.3) -> (-46.3876, 57.3) projected
  arc A22 (-46.3876, 57.3) -> (-47.6376, 56.0377) centre (-46.3876, 56.05) ccw projected
  line L23 (-47.6376, 56.0377) -> (-47.6, 52.22) projected
  arc A23 (-51.5421, 47.65) -> (-47.6, 52.22) centre (-52.22, 52.22) ccw projected
  point P0 (0, 0)
extrude "Extrusion4" add sketch "Sketch4" along normal blind 11 contours L0 A1 L1 A2 L2 A3 L3 A4 L4 A5 L5 A6 L6 A7 L7 A8 L8 A9 L9 A10 L10 A11 L11 A0 | A23 L23 A22 L22 A21 L21 A20 L20 A19 L19 A18 L18 A17 L17 A16 L16 A15 L15 A14 L14 A13 L13 A12 L12
sketch "Sketch5" plane through (5.5, 0, 0) normal (1, 0, 0) x (0, 0, -1)
  line L0 (46.3876, 57.2) -> (10.9124, 57.2) construction
  line L1 (28.65, 57.2) -> (28.65, 0.1) construction
  line L2 (10.9124, 0.1) -> (46.3876, 0.1) construction
  circle A0 centre (28.65, 28.65) radius 19.05
  point P0 (0, 0)
  dimension "d35" = 38.1
extrude "Extrusion5" add sketch "Sketch5" along normal blind 1.6
sketch "Sketch6" plane through (7.1, 28.65, -28.65) normal (1, 0, 0) x (0, 0, -1)
  circle A0 centre (0, 0) radius 3.175
  point P0 (-28.65, -28.65)
  dimension "d38" = 6.35
extrude "Extrusion6" add sketch "Sketch6" along normal blind 4.4
sketch "Sketch7" plane through (11.5, 28.65, -28.65) normal (1, 0, 0) x (0, 0, -1)
  circle A0 centre (0, 0) radius 3.175 projected
  line L0 (-9.5378, 2.375) -> (9.1058, 2.375)
  point P0 (-28.65, -28.65)
  point P1 (2.1071, 2.375)
  point P2 (-2.1071, 2.375)
  dimension "d41" = 2.375
extrude "Extrusion7" add sketch "Sketch7" along normal blind 15 contours A0 L0 picked at (0.5748, 0.6947)
sketch "Sketch8" plane through (-60, 57.3, -10.9124) normal (0, 1, 0) x (1, 0, 0)
  line L0 (-11, 35.4753) -> (-11, 0) projected
  line L1 (0, 0) -> (0, 35.4753) projected
  line L2 (-11, 11.75) -> (0, 11.75)
  line L3 (0, 11.75) -> (0, 23.75)
  line L4 (0, 23.75) -> (-11, 23.75)
  line L5 (-11, 23.75) -> (-11, 11.75)
  point P0 (60, -10.9124)
  point P1 (-11, 23.75)
  point P2 (0, 11.75)
  dimension "d44" = 12
  dimension "d45" = 11.75
extrude "Extrusion8" add sketch "Sketch8" along normal blind 1.5
equation "\"d5\" = d4"
equation "\"d6\" = d4"
equation "\"d7\" = d4"
equation "\"d13\" = d12"
equation "\"d14\" = d12"
equation "\"d15\" = d12"
equation "\"d17\" = d16"
equation "\"d18\" = d16"
equation "\"d19\" = d16"
equation "\"d21\" = d20"
equation "\"d22\" = d20"
equation "\"d23\" = d20"
equation "\"d24\" = d20"
equation "\"d25\" = d20"
equation "\"d26\" = d20"
equation "\"d27\" = d20"
properties part number "Nema 23 76.5mm Stepper Motor"
